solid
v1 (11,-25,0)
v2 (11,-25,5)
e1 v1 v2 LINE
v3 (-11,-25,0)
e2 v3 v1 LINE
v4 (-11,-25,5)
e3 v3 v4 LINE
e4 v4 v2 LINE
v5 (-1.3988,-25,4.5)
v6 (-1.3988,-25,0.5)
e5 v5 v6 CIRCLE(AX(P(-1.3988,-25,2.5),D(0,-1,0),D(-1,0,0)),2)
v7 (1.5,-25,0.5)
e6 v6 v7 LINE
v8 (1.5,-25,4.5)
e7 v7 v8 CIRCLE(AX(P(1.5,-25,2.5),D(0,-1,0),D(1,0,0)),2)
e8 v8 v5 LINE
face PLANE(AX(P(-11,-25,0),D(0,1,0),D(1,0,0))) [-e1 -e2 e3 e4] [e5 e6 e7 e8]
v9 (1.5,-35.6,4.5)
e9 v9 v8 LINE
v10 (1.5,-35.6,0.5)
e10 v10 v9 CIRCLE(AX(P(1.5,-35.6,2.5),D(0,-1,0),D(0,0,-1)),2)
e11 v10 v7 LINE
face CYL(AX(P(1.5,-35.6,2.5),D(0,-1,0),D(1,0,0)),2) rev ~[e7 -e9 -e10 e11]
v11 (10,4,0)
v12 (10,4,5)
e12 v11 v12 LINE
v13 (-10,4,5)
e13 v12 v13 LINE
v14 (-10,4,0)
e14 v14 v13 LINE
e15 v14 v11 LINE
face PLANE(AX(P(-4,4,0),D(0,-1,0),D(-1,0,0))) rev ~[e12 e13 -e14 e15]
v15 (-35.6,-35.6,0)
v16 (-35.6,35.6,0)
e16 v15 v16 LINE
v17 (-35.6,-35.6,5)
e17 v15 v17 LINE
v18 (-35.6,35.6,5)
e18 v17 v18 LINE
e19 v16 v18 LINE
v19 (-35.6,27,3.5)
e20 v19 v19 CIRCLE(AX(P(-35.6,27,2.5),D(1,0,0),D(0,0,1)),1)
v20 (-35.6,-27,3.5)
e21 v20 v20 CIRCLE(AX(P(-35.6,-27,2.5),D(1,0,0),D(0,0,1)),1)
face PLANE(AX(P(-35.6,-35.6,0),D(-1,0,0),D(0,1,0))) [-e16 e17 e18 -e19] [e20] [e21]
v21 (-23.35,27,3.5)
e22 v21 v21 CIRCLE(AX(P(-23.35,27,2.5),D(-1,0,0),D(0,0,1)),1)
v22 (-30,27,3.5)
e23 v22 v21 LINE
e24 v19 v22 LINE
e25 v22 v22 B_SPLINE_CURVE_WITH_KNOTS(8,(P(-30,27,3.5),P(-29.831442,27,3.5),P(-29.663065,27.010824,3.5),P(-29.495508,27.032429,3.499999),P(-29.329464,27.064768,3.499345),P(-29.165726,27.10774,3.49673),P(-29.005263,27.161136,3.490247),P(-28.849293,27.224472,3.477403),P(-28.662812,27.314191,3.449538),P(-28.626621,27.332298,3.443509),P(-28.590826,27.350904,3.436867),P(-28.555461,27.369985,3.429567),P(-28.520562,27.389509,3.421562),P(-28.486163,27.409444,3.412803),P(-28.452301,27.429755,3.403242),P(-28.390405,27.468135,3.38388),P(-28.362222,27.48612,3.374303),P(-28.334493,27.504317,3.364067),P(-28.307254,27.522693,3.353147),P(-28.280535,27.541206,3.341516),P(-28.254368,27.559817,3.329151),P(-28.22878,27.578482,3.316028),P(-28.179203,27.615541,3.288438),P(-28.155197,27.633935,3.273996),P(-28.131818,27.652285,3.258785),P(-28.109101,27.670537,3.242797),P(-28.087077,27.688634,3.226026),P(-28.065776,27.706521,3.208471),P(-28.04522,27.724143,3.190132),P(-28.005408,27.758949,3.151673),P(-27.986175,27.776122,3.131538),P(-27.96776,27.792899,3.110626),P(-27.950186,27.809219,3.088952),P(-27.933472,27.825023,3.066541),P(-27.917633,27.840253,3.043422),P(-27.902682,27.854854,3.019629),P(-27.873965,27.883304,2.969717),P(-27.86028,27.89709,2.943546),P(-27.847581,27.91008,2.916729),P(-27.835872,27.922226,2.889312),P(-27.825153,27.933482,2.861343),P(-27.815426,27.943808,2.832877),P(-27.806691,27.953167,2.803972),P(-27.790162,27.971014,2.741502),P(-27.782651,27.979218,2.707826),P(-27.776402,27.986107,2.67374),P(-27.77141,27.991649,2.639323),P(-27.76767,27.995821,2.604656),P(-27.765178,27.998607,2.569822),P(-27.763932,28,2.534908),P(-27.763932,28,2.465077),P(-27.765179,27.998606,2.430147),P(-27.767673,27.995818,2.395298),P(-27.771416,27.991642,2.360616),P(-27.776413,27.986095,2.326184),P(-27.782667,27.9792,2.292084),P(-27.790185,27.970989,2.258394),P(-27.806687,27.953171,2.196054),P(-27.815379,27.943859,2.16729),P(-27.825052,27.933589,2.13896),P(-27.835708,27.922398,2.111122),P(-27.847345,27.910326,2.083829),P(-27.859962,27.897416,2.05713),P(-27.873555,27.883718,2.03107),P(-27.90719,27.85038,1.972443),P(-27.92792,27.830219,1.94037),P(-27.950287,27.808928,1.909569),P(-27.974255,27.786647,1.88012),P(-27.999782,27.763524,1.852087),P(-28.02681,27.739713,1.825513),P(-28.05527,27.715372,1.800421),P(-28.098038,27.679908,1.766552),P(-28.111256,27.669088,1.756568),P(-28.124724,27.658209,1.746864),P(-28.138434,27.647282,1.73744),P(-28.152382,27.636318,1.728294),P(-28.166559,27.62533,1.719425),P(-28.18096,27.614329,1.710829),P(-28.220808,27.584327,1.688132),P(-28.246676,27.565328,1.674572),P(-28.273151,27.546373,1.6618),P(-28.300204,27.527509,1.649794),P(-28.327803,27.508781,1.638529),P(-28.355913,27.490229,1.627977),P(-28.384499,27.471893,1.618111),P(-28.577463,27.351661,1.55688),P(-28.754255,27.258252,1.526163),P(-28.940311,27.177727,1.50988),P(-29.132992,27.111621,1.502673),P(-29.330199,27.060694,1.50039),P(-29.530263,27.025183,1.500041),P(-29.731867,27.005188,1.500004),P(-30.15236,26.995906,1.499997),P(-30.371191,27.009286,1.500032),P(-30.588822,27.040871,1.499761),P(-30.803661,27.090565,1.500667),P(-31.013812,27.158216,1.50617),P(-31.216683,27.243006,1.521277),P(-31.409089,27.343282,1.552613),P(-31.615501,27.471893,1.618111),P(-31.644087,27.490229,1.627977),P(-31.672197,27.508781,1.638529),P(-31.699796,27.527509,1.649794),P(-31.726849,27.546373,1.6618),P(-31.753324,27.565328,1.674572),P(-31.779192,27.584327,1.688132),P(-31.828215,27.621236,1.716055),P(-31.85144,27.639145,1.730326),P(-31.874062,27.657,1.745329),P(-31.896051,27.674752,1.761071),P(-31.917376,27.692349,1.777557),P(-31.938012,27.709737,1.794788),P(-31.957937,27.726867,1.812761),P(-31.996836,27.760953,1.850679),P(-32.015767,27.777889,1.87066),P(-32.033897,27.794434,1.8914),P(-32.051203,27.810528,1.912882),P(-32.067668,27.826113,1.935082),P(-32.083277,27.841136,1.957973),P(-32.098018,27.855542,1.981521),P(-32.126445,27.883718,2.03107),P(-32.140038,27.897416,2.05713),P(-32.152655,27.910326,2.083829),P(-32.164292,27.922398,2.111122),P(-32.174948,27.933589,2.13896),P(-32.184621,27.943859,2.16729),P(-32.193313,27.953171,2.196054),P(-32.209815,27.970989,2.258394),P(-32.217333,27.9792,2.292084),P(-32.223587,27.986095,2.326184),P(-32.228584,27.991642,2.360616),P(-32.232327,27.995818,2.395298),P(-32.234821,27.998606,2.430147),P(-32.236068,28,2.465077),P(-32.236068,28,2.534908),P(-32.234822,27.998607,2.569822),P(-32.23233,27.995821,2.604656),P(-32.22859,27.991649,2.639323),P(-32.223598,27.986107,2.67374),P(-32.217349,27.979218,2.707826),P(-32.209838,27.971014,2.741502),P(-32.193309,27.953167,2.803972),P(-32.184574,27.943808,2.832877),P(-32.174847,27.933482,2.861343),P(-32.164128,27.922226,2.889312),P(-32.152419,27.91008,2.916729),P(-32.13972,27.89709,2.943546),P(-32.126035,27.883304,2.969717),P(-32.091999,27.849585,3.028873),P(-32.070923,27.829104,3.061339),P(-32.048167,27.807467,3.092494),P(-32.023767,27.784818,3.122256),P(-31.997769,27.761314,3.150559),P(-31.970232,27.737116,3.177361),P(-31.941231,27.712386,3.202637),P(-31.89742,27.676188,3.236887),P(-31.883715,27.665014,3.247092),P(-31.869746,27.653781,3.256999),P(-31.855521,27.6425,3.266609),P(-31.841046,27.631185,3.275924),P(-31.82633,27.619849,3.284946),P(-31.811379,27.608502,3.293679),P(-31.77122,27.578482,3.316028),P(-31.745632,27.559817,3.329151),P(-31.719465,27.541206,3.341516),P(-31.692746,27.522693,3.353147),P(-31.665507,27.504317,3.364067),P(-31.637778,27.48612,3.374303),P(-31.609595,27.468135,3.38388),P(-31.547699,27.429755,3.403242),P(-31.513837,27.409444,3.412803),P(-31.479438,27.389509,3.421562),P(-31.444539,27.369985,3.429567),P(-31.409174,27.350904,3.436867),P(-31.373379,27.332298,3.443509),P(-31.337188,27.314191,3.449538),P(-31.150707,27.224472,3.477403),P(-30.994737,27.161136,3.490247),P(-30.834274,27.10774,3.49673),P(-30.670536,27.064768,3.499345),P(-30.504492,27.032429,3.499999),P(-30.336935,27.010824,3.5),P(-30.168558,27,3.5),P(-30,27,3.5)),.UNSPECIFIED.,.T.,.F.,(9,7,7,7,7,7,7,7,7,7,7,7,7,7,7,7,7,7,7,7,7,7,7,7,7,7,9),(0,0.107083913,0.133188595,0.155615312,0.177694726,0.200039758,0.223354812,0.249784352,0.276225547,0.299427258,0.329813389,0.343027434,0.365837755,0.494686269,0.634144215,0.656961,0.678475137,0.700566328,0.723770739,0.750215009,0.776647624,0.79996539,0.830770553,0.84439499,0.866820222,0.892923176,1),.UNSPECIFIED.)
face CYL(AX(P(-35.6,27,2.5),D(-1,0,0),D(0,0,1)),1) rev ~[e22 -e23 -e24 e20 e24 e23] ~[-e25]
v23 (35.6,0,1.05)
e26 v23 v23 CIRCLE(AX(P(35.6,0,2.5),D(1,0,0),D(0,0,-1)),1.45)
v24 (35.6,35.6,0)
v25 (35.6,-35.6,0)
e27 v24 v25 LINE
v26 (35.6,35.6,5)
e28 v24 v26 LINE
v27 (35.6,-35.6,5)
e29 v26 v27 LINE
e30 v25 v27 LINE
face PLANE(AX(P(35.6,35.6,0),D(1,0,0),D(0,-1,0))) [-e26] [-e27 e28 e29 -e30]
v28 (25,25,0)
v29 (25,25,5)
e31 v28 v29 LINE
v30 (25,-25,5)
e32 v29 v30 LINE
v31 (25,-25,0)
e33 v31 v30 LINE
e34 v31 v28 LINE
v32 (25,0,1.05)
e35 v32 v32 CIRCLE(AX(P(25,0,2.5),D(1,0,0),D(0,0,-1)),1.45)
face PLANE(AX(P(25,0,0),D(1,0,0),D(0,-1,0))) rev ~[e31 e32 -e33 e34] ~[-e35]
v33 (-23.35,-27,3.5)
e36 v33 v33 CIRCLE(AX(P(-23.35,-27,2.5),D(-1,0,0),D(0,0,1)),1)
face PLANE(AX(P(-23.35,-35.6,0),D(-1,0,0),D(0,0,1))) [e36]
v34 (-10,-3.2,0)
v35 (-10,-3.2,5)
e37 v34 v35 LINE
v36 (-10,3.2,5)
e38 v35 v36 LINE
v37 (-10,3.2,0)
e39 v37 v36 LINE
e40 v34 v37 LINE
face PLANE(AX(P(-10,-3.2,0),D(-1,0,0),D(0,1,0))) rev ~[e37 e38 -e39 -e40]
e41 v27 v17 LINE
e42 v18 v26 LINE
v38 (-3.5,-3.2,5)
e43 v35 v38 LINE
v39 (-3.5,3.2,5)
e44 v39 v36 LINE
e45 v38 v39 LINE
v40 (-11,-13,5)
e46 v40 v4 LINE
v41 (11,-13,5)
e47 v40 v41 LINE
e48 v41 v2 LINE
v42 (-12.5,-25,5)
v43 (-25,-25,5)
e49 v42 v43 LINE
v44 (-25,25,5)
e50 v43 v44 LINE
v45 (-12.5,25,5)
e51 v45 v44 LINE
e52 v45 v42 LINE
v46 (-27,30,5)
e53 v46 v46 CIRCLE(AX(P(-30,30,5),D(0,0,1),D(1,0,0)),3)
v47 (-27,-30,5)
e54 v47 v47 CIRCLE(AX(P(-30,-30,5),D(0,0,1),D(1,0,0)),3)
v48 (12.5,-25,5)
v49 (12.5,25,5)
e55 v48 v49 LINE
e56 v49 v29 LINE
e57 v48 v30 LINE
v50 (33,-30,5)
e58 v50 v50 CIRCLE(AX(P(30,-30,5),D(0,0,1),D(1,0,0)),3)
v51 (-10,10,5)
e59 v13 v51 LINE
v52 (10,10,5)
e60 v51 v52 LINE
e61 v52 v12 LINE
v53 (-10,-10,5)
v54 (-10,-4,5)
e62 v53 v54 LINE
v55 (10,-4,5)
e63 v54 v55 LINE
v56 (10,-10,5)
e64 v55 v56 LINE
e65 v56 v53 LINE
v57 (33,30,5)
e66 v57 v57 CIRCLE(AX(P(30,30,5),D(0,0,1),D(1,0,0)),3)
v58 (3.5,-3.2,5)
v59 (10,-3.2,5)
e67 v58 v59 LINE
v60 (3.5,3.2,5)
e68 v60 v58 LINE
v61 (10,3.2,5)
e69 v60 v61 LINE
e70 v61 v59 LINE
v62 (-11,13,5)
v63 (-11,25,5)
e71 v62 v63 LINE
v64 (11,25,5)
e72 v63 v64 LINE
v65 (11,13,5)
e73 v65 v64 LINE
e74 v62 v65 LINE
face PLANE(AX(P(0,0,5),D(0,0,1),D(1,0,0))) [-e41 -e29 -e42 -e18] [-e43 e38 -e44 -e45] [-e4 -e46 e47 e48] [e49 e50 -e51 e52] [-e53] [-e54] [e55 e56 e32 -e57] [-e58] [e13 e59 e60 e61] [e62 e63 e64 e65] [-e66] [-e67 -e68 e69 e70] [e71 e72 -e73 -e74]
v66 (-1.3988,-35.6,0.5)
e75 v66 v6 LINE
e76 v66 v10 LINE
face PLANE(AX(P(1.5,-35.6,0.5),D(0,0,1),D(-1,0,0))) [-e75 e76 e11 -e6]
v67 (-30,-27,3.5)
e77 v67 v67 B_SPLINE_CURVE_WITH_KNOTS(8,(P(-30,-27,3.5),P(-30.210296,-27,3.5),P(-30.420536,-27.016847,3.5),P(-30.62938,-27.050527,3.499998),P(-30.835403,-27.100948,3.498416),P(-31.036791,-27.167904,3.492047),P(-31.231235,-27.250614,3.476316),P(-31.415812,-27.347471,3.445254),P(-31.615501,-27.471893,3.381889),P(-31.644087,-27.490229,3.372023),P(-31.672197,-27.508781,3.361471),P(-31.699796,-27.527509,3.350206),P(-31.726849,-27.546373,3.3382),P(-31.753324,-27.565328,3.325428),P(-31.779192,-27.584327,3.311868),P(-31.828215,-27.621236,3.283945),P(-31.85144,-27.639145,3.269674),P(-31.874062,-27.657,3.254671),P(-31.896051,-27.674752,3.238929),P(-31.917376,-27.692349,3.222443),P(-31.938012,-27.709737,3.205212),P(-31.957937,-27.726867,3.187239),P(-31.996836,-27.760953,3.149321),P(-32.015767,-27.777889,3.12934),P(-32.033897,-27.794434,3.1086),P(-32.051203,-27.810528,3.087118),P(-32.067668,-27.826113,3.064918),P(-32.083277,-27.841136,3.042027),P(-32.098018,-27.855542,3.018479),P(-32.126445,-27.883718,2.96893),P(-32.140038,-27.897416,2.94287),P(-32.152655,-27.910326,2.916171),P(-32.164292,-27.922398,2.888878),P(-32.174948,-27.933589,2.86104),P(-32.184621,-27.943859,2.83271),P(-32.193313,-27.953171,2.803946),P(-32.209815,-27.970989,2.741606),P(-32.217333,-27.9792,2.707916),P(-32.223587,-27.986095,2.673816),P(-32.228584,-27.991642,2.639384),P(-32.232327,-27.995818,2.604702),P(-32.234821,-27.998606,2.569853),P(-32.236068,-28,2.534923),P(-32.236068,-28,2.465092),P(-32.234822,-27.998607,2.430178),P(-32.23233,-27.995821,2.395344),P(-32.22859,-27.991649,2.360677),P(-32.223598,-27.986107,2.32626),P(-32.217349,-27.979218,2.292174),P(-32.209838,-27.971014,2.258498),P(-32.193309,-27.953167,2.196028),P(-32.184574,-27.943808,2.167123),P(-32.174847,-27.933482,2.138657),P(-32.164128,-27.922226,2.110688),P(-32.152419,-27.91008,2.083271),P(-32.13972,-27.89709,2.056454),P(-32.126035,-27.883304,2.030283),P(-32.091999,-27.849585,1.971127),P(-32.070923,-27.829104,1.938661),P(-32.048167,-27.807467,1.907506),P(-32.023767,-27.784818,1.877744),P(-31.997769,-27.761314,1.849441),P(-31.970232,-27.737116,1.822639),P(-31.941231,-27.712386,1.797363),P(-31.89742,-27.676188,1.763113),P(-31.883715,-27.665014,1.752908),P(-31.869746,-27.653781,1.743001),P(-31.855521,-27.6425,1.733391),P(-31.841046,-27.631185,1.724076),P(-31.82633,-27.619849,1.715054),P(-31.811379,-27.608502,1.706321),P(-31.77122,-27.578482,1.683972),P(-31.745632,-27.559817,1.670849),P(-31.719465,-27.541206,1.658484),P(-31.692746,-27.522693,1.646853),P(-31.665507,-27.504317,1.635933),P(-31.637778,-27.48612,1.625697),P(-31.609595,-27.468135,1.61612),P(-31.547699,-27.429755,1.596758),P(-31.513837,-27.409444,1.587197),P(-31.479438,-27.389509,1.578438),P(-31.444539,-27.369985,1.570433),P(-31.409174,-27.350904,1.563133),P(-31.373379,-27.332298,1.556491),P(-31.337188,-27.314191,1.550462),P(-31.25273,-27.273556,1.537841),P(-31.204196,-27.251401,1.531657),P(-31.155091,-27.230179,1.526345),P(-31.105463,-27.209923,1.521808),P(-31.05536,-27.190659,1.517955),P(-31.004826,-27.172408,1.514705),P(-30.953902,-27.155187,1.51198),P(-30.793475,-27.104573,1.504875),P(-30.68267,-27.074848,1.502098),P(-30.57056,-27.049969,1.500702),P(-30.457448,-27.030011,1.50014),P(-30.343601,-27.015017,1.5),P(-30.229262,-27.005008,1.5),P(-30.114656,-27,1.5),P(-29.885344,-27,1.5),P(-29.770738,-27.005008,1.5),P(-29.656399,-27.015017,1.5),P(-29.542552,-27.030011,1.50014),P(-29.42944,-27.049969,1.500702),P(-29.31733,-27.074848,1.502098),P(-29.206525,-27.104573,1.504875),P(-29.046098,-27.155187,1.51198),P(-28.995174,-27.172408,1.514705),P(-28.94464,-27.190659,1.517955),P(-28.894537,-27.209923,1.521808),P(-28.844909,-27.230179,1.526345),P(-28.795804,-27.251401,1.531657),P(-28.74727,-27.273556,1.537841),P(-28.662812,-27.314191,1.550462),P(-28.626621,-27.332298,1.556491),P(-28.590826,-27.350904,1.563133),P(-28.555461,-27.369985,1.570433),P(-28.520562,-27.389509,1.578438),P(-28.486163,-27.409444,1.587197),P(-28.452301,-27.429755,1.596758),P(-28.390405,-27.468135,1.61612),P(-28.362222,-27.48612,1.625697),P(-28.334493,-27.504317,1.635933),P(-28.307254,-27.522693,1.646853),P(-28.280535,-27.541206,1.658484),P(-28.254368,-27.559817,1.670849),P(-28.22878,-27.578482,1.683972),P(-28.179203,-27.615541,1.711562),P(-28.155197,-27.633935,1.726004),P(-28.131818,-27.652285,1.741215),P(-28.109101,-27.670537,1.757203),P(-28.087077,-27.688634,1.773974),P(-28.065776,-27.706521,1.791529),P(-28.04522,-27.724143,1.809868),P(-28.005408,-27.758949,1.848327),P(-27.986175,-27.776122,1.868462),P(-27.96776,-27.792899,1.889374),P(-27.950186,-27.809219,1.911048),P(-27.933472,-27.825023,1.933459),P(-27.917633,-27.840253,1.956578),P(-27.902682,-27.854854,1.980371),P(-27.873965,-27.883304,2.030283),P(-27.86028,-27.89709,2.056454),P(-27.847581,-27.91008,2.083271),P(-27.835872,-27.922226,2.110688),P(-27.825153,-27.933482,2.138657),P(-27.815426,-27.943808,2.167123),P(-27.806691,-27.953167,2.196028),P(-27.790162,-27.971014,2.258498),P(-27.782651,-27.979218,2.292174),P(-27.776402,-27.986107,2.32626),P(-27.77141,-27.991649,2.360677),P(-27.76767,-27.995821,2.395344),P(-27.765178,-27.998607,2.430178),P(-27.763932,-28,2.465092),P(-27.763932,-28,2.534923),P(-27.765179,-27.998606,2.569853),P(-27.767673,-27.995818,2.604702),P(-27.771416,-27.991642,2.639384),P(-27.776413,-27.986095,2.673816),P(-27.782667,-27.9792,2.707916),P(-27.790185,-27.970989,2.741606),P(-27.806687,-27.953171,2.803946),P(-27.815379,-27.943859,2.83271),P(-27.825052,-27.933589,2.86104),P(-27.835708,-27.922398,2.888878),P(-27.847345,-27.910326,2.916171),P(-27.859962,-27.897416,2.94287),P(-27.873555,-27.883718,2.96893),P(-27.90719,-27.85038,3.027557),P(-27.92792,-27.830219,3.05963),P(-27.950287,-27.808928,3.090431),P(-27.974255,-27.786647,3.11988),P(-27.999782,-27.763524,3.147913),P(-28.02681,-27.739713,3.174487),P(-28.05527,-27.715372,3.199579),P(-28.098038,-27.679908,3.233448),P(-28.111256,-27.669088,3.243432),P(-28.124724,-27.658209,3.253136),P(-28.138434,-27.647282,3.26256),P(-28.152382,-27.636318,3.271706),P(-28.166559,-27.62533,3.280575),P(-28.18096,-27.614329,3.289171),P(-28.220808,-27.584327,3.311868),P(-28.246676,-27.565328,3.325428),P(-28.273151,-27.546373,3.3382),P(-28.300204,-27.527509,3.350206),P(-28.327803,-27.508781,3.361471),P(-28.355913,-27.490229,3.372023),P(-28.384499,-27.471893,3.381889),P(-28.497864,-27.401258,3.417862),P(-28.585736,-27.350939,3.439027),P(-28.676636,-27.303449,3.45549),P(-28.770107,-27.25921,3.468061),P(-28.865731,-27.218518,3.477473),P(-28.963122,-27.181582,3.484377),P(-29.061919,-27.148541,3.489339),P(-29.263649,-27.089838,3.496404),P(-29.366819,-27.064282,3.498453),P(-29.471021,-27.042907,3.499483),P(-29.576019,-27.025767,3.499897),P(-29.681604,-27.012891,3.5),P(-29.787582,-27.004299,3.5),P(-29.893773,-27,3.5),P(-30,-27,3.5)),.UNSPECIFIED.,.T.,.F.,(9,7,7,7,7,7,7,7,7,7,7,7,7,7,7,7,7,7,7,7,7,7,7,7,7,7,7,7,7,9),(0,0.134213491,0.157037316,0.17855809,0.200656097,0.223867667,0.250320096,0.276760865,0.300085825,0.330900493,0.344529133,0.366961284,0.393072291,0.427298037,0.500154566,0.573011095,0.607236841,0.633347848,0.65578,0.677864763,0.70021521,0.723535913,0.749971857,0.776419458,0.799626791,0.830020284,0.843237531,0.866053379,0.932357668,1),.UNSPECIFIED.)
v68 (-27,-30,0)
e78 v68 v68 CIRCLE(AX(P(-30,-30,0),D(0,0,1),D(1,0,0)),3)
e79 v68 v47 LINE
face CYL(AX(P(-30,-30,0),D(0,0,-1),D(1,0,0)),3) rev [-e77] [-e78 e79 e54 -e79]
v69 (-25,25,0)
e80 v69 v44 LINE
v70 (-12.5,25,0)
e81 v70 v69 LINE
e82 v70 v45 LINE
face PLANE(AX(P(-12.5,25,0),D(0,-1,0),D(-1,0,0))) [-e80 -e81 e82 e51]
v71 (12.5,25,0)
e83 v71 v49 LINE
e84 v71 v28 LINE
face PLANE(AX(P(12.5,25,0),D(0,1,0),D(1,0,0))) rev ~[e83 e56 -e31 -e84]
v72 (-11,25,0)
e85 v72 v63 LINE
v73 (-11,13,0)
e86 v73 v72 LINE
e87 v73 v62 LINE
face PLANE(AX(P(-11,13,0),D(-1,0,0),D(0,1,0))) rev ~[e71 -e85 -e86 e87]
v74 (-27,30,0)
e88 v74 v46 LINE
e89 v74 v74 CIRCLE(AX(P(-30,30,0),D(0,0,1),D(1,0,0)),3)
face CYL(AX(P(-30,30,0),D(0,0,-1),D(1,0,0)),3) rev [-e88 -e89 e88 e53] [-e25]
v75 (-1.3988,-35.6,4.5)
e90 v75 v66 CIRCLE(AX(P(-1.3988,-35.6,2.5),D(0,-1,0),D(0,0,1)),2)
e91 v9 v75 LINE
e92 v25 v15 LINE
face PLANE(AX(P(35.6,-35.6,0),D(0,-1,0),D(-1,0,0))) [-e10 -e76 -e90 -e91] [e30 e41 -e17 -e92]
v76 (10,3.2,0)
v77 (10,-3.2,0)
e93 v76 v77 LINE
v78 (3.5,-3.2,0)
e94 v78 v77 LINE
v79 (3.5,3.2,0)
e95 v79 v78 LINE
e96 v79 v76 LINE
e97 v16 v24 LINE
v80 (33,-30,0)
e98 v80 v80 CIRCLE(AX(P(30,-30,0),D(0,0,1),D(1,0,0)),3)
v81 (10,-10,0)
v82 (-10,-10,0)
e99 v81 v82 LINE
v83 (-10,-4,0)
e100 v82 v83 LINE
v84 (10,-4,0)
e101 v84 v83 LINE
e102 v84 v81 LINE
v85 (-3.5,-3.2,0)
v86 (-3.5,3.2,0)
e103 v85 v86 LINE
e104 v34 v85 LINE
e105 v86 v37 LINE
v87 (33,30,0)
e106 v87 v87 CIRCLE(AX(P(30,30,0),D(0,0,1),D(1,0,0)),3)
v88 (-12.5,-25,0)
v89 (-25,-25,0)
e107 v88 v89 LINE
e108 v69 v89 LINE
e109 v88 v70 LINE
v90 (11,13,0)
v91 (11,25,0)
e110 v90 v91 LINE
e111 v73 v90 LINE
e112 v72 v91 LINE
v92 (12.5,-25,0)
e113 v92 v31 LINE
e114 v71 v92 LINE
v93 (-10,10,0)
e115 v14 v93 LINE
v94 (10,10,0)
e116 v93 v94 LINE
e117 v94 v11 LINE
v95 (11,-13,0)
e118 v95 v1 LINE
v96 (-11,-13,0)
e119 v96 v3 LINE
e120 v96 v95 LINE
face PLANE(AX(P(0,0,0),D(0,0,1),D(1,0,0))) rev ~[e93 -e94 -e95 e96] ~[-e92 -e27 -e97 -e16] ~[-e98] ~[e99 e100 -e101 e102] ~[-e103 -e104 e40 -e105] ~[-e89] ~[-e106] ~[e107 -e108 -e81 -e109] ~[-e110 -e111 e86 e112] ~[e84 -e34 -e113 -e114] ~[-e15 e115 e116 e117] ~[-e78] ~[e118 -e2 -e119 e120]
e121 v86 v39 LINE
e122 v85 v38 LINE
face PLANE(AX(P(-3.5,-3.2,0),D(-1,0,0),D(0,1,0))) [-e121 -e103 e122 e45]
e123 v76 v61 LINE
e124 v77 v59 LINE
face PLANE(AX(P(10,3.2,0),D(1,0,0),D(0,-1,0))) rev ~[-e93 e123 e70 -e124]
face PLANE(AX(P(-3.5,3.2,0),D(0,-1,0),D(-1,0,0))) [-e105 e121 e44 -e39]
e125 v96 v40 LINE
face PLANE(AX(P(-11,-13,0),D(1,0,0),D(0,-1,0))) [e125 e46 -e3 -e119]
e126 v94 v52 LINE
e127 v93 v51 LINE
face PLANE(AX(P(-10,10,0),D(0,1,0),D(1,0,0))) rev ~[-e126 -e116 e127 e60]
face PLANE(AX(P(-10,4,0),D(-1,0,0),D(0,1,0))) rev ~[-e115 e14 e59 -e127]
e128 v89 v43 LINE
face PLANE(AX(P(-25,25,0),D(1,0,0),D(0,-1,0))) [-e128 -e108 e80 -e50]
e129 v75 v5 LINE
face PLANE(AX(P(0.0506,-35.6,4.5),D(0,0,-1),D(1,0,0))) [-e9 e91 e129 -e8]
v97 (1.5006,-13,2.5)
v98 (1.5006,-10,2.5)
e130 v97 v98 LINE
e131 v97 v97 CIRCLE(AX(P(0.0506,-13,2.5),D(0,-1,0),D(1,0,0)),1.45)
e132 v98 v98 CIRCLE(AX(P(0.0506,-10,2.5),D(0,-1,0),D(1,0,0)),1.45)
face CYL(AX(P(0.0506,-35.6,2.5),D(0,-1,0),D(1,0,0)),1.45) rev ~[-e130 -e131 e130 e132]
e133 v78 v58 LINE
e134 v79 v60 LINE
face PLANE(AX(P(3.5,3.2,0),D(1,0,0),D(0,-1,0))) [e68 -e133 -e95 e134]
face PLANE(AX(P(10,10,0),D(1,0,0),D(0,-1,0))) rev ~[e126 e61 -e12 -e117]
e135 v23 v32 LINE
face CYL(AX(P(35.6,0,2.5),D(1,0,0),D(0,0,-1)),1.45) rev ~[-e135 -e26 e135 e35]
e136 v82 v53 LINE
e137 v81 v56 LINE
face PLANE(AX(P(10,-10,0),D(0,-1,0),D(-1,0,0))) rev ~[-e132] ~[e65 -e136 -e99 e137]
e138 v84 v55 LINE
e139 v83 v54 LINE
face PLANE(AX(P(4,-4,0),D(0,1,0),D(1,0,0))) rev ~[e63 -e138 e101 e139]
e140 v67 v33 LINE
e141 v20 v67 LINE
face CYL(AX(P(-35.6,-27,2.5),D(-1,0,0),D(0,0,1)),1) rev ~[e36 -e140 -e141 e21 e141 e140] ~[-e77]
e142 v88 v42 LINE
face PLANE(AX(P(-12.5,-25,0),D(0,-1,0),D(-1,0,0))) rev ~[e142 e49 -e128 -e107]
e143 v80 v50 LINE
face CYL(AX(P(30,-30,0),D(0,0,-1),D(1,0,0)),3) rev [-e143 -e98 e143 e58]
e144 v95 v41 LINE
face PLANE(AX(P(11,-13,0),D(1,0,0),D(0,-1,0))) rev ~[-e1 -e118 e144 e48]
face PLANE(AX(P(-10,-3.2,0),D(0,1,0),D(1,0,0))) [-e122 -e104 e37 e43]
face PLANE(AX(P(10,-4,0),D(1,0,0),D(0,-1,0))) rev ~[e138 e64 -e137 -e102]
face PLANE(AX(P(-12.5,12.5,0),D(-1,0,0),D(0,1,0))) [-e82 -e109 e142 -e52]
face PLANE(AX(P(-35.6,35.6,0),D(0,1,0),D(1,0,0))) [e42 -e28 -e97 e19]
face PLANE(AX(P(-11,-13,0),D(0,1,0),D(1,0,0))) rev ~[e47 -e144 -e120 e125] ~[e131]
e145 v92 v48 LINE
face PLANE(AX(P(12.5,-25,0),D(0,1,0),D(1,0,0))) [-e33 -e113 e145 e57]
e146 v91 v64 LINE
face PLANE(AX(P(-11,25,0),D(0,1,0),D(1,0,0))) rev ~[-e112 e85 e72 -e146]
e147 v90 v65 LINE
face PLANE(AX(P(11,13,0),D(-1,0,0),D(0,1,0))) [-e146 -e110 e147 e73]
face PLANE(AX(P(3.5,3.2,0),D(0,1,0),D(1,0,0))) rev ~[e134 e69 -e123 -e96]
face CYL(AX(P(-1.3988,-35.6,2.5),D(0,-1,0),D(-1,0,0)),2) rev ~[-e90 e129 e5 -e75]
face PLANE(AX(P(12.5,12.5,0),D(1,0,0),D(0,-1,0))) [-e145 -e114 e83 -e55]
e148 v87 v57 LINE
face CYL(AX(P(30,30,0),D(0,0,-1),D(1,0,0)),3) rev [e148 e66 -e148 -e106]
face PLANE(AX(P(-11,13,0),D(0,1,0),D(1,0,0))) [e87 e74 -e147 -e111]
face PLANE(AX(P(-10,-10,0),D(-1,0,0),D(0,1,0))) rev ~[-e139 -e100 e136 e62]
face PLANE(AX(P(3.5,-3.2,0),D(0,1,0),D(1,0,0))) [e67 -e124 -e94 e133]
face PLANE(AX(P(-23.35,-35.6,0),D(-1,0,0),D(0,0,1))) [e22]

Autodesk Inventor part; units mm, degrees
ref_plane "YZ Plane" through (0, 0, 0) normal (1, 0, 0) x (0, 1, 0)
ref_plane "XZ Plane" through (0, 0, 0) normal (0, 1, 0) x (-1, 0, 0)
ref_plane "XY Plane" through (0, 0, 0) normal (0, 0, 1) x (1, 0, 0)
sketch "Szkic1" plane through (0, 0, 0) normal (0, 0, 1) x (1, 0, 0)
  line L0 (-35.6, 35.6) -> (35.6, 35.6)
  line L1 (35.6, 35.6) -> (35.6, -35.6)
  line L2 (35.6, -35.6) -> (-35.6, -35.6)
  line L3 (-35.6, -35.6) -> (-35.6, 35.6)
  line L4 (-35.6, -35.6) -> (35.6, 35.6) construction
  line L5 (-35.6, 35.6) -> (35.6, -35.6) construction
  line L6 (-30, 30) -> (30, 30) construction
  line L7 (30, 30) -> (30, -30) construction
  line L8 (30, -30) -> (-30, -30) construction
  line L9 (-30, -30) -> (-30, 30) construction
  circle A0 centre (30, 30) radius 3
  circle A1 centre (30, -30) radius 3
  circle A2 centre (-30, -30) radius 3
  circle A3 centre (-30, 30) radius 3
  circle A4 centre (0, 0) radius 28 construction
  line L10 (-11, 13) -> (11, 13)
  line L11 (-10, 10) -> (10, 10)
  line L12 (10, -10) -> (-10, -10)
  line L13 (-4, 4) -> (4, 4)
  line L14 (3.5, 3.2) -> (3.5, -3.2)
  line L15 (4, -4) -> (-3.8927, -4)
  line L16 (-3.5, -3.2) -> (-3.5, 3.2)
  line L17 (4, 4) -> (10, 4)
  line L18 (-4, 4) -> (-10, 4)
  line L19 (-3.8927, -4) -> (-10, -4)
  line L20 (4, -4) -> (10, -4)
  line L21 (-3.5, 3.2) -> (-10, 3.2)
  line L22 (3.5, 3.2) -> (10, 3.2)
  line L23 (-10, -3.2) -> (-3.5, -3.2)
  line L24 (3.5, -3.2) -> (10, -3.2)
  line L25 (10, 10) -> (10, 4)
  line L26 (-10, 4) -> (-10, 10)
  line L27 (-10, -10) -> (-10, -4)
  line L28 (-10, -3.2) -> (-10, 3.2)
  line L29 (10, 3.2) -> (10, -3.2)
  line L30 (10, -4) -> (10, -10)
  line L31 (-12.5, 12.5) -> (-12.5, 25)
  line L32 (12.5, 12.5) -> (12.5, 25)
  line L33 (11, 13) -> (11, 25)
  line L34 (-11, 13) -> (-11, 25)
  line L35 (-11, 25) -> (11, 25)
  line L36 (-12.5, 25) -> (-25, 25)
  line L37 (-25, 25) -> (-25, 0)
  line L38 (12.5, 25) -> (25, 25)
  line L39 (25, 0) -> (25, 25)
  line L40 (-12.5, 12.5) -> (-12.5, 0)
  line L41 (12.5, 12.5) -> (12.5, 0)
  line L42 (-35.6, 0) -> (35.6, 0) construction
  line L43 (-11, -13) -> (11, -13)
  line L44 (-12.5, -12.5) -> (-12.5, -25)
  line L45 (12.5, -12.5) -> (12.5, -25)
  line L46 (11, -13) -> (11, -25)
  line L47 (-11, -13) -> (-11, -25)
  line L48 (-11, -25) -> (11, -25)
  line L49 (-12.5, -25) -> (-25, -25)
  line L50 (-25, -25) -> (-25, 0)
  line L51 (12.5, -25) -> (25, -25)
  line L52 (25, 0) -> (25, -25)
  line L53 (-12.5, -12.5) -> (-12.5, 0)
  line L54 (12.5, -12.5) -> (12.5, 0)
  point P0 (0, 0)
  point P1 (0, 0)
  dimension "d0" = 60
  dimension "d1" = 35.6
  dimension "d2" = 6
  dimension "d3" = 56
  dimension "d4" = 25
  dimension "d5" = 0.8
  dimension "d6" = 0.8
  dimension "d7" = 20
  dimension "d8" = 7
  dimension "d9" = 6
  dimension "d11" = 1.5
  dimension "d12" = 1.5
  dimension "d13" = 25
  dimension "d14" = 12.5
  dimension "d15" = 12.5
  dimension "d16" = 3
extrude "Wyciągnięcie proste1" add sketch "Szkic1" along normal blind 5
sketch "Szkic4" plane through (-35.6, -35.6, 0) normal (0, -1, 0) x (1, 0, 0)
  circle A0 centre (35.6506, 2.5) radius 1.45
  circle A1 centre (35.6506, 2.5) radius 2
  line L0 (0, 0) -> (0, 5) construction
  line L1 (0, 2.5) -> (71.3012, 2.5) construction
  line L2 (39.1, 0) -> (39.1, 5) projected
  line L3 (34.2012, 4.5) -> (37.1, 4.5)
  line L4 (39.1, 2.5) -> (39.1, 2.5)
  line L5 (37.1, 0.5) -> (34.2012, 0.5)
  line L6 (32.2012, 2.5) -> (32.2012, 2.5)
  line L7 (32.2012, 4.5) -> (39.1, 0.5) construction
  line L8 (39.1, 4.5) -> (32.2012, 0.5) construction
  arc A2 (39.1, 2.5) -> (37.1, 4.5) centre (37.1, 2.5) ccw
  arc A3 (37.1, 0.5) -> (39.1, 2.5) centre (37.1, 2.5) ccw
  arc A4 (32.2012, 2.5) -> (34.2012, 0.5) centre (34.2012, 2.5) ccw
  arc A5 (34.2012, 4.5) -> (32.2012, 2.5) centre (34.2012, 2.5) ccw
  point P0 (35.6, 0)
  dimension "d19" = 2.9
  dimension "d20" = 4
  dimension "d23" = 2
extrude "Wyciągnięcie proste2" cut sketch "Szkic4" against normal blind 26.5 contours A0
extrude "Wyciągnięcie proste3" cut sketch "Szkic4" against normal blind 13 contours A0 | A1 | A1 L3 A2 A3 L5 | A1 L5 A4 A5 L3
sketch "Szkic6" plane through (35.6, -35.6, 0) normal (1, 0, 0) x (0, 0, -1)
  line L0 (0, 71.2) -> (-5, 71.2) construction
  line L1 (-2.5, 71.2) -> (-2.5, 0) construction
  line L2 (0, 0) -> (-5, 0) construction
  circle A0 centre (-2.5, 35.6) radius 1.45
  point P0 (0, 35.6)
  dimension "d26" = 2.9
extrude "Wyciągnięcie proste4" cut sketch "Szkic6" against normal blind 17
sketch "Szkic7" plane through (-35.6, -35.6, 0) normal (-1, 0, 0) x (0, 0, 1)
  line L0 (5, 62.6) -> (0, 62.6) projected
  circle A0 centre (2.5, 62.6) radius 1
  line L1 (5, 8.6) -> (0, 8.6) projected
  circle A1 centre (2.5, 8.6) radius 1
  point P0 (0, 35.6)
  dimension "d29" = 2
  dimension "d32" = 2
extrude "Wyciągnięcie proste5" cut sketch "Szkic7" against normal blind 12.25
properties part number "led_holder"
